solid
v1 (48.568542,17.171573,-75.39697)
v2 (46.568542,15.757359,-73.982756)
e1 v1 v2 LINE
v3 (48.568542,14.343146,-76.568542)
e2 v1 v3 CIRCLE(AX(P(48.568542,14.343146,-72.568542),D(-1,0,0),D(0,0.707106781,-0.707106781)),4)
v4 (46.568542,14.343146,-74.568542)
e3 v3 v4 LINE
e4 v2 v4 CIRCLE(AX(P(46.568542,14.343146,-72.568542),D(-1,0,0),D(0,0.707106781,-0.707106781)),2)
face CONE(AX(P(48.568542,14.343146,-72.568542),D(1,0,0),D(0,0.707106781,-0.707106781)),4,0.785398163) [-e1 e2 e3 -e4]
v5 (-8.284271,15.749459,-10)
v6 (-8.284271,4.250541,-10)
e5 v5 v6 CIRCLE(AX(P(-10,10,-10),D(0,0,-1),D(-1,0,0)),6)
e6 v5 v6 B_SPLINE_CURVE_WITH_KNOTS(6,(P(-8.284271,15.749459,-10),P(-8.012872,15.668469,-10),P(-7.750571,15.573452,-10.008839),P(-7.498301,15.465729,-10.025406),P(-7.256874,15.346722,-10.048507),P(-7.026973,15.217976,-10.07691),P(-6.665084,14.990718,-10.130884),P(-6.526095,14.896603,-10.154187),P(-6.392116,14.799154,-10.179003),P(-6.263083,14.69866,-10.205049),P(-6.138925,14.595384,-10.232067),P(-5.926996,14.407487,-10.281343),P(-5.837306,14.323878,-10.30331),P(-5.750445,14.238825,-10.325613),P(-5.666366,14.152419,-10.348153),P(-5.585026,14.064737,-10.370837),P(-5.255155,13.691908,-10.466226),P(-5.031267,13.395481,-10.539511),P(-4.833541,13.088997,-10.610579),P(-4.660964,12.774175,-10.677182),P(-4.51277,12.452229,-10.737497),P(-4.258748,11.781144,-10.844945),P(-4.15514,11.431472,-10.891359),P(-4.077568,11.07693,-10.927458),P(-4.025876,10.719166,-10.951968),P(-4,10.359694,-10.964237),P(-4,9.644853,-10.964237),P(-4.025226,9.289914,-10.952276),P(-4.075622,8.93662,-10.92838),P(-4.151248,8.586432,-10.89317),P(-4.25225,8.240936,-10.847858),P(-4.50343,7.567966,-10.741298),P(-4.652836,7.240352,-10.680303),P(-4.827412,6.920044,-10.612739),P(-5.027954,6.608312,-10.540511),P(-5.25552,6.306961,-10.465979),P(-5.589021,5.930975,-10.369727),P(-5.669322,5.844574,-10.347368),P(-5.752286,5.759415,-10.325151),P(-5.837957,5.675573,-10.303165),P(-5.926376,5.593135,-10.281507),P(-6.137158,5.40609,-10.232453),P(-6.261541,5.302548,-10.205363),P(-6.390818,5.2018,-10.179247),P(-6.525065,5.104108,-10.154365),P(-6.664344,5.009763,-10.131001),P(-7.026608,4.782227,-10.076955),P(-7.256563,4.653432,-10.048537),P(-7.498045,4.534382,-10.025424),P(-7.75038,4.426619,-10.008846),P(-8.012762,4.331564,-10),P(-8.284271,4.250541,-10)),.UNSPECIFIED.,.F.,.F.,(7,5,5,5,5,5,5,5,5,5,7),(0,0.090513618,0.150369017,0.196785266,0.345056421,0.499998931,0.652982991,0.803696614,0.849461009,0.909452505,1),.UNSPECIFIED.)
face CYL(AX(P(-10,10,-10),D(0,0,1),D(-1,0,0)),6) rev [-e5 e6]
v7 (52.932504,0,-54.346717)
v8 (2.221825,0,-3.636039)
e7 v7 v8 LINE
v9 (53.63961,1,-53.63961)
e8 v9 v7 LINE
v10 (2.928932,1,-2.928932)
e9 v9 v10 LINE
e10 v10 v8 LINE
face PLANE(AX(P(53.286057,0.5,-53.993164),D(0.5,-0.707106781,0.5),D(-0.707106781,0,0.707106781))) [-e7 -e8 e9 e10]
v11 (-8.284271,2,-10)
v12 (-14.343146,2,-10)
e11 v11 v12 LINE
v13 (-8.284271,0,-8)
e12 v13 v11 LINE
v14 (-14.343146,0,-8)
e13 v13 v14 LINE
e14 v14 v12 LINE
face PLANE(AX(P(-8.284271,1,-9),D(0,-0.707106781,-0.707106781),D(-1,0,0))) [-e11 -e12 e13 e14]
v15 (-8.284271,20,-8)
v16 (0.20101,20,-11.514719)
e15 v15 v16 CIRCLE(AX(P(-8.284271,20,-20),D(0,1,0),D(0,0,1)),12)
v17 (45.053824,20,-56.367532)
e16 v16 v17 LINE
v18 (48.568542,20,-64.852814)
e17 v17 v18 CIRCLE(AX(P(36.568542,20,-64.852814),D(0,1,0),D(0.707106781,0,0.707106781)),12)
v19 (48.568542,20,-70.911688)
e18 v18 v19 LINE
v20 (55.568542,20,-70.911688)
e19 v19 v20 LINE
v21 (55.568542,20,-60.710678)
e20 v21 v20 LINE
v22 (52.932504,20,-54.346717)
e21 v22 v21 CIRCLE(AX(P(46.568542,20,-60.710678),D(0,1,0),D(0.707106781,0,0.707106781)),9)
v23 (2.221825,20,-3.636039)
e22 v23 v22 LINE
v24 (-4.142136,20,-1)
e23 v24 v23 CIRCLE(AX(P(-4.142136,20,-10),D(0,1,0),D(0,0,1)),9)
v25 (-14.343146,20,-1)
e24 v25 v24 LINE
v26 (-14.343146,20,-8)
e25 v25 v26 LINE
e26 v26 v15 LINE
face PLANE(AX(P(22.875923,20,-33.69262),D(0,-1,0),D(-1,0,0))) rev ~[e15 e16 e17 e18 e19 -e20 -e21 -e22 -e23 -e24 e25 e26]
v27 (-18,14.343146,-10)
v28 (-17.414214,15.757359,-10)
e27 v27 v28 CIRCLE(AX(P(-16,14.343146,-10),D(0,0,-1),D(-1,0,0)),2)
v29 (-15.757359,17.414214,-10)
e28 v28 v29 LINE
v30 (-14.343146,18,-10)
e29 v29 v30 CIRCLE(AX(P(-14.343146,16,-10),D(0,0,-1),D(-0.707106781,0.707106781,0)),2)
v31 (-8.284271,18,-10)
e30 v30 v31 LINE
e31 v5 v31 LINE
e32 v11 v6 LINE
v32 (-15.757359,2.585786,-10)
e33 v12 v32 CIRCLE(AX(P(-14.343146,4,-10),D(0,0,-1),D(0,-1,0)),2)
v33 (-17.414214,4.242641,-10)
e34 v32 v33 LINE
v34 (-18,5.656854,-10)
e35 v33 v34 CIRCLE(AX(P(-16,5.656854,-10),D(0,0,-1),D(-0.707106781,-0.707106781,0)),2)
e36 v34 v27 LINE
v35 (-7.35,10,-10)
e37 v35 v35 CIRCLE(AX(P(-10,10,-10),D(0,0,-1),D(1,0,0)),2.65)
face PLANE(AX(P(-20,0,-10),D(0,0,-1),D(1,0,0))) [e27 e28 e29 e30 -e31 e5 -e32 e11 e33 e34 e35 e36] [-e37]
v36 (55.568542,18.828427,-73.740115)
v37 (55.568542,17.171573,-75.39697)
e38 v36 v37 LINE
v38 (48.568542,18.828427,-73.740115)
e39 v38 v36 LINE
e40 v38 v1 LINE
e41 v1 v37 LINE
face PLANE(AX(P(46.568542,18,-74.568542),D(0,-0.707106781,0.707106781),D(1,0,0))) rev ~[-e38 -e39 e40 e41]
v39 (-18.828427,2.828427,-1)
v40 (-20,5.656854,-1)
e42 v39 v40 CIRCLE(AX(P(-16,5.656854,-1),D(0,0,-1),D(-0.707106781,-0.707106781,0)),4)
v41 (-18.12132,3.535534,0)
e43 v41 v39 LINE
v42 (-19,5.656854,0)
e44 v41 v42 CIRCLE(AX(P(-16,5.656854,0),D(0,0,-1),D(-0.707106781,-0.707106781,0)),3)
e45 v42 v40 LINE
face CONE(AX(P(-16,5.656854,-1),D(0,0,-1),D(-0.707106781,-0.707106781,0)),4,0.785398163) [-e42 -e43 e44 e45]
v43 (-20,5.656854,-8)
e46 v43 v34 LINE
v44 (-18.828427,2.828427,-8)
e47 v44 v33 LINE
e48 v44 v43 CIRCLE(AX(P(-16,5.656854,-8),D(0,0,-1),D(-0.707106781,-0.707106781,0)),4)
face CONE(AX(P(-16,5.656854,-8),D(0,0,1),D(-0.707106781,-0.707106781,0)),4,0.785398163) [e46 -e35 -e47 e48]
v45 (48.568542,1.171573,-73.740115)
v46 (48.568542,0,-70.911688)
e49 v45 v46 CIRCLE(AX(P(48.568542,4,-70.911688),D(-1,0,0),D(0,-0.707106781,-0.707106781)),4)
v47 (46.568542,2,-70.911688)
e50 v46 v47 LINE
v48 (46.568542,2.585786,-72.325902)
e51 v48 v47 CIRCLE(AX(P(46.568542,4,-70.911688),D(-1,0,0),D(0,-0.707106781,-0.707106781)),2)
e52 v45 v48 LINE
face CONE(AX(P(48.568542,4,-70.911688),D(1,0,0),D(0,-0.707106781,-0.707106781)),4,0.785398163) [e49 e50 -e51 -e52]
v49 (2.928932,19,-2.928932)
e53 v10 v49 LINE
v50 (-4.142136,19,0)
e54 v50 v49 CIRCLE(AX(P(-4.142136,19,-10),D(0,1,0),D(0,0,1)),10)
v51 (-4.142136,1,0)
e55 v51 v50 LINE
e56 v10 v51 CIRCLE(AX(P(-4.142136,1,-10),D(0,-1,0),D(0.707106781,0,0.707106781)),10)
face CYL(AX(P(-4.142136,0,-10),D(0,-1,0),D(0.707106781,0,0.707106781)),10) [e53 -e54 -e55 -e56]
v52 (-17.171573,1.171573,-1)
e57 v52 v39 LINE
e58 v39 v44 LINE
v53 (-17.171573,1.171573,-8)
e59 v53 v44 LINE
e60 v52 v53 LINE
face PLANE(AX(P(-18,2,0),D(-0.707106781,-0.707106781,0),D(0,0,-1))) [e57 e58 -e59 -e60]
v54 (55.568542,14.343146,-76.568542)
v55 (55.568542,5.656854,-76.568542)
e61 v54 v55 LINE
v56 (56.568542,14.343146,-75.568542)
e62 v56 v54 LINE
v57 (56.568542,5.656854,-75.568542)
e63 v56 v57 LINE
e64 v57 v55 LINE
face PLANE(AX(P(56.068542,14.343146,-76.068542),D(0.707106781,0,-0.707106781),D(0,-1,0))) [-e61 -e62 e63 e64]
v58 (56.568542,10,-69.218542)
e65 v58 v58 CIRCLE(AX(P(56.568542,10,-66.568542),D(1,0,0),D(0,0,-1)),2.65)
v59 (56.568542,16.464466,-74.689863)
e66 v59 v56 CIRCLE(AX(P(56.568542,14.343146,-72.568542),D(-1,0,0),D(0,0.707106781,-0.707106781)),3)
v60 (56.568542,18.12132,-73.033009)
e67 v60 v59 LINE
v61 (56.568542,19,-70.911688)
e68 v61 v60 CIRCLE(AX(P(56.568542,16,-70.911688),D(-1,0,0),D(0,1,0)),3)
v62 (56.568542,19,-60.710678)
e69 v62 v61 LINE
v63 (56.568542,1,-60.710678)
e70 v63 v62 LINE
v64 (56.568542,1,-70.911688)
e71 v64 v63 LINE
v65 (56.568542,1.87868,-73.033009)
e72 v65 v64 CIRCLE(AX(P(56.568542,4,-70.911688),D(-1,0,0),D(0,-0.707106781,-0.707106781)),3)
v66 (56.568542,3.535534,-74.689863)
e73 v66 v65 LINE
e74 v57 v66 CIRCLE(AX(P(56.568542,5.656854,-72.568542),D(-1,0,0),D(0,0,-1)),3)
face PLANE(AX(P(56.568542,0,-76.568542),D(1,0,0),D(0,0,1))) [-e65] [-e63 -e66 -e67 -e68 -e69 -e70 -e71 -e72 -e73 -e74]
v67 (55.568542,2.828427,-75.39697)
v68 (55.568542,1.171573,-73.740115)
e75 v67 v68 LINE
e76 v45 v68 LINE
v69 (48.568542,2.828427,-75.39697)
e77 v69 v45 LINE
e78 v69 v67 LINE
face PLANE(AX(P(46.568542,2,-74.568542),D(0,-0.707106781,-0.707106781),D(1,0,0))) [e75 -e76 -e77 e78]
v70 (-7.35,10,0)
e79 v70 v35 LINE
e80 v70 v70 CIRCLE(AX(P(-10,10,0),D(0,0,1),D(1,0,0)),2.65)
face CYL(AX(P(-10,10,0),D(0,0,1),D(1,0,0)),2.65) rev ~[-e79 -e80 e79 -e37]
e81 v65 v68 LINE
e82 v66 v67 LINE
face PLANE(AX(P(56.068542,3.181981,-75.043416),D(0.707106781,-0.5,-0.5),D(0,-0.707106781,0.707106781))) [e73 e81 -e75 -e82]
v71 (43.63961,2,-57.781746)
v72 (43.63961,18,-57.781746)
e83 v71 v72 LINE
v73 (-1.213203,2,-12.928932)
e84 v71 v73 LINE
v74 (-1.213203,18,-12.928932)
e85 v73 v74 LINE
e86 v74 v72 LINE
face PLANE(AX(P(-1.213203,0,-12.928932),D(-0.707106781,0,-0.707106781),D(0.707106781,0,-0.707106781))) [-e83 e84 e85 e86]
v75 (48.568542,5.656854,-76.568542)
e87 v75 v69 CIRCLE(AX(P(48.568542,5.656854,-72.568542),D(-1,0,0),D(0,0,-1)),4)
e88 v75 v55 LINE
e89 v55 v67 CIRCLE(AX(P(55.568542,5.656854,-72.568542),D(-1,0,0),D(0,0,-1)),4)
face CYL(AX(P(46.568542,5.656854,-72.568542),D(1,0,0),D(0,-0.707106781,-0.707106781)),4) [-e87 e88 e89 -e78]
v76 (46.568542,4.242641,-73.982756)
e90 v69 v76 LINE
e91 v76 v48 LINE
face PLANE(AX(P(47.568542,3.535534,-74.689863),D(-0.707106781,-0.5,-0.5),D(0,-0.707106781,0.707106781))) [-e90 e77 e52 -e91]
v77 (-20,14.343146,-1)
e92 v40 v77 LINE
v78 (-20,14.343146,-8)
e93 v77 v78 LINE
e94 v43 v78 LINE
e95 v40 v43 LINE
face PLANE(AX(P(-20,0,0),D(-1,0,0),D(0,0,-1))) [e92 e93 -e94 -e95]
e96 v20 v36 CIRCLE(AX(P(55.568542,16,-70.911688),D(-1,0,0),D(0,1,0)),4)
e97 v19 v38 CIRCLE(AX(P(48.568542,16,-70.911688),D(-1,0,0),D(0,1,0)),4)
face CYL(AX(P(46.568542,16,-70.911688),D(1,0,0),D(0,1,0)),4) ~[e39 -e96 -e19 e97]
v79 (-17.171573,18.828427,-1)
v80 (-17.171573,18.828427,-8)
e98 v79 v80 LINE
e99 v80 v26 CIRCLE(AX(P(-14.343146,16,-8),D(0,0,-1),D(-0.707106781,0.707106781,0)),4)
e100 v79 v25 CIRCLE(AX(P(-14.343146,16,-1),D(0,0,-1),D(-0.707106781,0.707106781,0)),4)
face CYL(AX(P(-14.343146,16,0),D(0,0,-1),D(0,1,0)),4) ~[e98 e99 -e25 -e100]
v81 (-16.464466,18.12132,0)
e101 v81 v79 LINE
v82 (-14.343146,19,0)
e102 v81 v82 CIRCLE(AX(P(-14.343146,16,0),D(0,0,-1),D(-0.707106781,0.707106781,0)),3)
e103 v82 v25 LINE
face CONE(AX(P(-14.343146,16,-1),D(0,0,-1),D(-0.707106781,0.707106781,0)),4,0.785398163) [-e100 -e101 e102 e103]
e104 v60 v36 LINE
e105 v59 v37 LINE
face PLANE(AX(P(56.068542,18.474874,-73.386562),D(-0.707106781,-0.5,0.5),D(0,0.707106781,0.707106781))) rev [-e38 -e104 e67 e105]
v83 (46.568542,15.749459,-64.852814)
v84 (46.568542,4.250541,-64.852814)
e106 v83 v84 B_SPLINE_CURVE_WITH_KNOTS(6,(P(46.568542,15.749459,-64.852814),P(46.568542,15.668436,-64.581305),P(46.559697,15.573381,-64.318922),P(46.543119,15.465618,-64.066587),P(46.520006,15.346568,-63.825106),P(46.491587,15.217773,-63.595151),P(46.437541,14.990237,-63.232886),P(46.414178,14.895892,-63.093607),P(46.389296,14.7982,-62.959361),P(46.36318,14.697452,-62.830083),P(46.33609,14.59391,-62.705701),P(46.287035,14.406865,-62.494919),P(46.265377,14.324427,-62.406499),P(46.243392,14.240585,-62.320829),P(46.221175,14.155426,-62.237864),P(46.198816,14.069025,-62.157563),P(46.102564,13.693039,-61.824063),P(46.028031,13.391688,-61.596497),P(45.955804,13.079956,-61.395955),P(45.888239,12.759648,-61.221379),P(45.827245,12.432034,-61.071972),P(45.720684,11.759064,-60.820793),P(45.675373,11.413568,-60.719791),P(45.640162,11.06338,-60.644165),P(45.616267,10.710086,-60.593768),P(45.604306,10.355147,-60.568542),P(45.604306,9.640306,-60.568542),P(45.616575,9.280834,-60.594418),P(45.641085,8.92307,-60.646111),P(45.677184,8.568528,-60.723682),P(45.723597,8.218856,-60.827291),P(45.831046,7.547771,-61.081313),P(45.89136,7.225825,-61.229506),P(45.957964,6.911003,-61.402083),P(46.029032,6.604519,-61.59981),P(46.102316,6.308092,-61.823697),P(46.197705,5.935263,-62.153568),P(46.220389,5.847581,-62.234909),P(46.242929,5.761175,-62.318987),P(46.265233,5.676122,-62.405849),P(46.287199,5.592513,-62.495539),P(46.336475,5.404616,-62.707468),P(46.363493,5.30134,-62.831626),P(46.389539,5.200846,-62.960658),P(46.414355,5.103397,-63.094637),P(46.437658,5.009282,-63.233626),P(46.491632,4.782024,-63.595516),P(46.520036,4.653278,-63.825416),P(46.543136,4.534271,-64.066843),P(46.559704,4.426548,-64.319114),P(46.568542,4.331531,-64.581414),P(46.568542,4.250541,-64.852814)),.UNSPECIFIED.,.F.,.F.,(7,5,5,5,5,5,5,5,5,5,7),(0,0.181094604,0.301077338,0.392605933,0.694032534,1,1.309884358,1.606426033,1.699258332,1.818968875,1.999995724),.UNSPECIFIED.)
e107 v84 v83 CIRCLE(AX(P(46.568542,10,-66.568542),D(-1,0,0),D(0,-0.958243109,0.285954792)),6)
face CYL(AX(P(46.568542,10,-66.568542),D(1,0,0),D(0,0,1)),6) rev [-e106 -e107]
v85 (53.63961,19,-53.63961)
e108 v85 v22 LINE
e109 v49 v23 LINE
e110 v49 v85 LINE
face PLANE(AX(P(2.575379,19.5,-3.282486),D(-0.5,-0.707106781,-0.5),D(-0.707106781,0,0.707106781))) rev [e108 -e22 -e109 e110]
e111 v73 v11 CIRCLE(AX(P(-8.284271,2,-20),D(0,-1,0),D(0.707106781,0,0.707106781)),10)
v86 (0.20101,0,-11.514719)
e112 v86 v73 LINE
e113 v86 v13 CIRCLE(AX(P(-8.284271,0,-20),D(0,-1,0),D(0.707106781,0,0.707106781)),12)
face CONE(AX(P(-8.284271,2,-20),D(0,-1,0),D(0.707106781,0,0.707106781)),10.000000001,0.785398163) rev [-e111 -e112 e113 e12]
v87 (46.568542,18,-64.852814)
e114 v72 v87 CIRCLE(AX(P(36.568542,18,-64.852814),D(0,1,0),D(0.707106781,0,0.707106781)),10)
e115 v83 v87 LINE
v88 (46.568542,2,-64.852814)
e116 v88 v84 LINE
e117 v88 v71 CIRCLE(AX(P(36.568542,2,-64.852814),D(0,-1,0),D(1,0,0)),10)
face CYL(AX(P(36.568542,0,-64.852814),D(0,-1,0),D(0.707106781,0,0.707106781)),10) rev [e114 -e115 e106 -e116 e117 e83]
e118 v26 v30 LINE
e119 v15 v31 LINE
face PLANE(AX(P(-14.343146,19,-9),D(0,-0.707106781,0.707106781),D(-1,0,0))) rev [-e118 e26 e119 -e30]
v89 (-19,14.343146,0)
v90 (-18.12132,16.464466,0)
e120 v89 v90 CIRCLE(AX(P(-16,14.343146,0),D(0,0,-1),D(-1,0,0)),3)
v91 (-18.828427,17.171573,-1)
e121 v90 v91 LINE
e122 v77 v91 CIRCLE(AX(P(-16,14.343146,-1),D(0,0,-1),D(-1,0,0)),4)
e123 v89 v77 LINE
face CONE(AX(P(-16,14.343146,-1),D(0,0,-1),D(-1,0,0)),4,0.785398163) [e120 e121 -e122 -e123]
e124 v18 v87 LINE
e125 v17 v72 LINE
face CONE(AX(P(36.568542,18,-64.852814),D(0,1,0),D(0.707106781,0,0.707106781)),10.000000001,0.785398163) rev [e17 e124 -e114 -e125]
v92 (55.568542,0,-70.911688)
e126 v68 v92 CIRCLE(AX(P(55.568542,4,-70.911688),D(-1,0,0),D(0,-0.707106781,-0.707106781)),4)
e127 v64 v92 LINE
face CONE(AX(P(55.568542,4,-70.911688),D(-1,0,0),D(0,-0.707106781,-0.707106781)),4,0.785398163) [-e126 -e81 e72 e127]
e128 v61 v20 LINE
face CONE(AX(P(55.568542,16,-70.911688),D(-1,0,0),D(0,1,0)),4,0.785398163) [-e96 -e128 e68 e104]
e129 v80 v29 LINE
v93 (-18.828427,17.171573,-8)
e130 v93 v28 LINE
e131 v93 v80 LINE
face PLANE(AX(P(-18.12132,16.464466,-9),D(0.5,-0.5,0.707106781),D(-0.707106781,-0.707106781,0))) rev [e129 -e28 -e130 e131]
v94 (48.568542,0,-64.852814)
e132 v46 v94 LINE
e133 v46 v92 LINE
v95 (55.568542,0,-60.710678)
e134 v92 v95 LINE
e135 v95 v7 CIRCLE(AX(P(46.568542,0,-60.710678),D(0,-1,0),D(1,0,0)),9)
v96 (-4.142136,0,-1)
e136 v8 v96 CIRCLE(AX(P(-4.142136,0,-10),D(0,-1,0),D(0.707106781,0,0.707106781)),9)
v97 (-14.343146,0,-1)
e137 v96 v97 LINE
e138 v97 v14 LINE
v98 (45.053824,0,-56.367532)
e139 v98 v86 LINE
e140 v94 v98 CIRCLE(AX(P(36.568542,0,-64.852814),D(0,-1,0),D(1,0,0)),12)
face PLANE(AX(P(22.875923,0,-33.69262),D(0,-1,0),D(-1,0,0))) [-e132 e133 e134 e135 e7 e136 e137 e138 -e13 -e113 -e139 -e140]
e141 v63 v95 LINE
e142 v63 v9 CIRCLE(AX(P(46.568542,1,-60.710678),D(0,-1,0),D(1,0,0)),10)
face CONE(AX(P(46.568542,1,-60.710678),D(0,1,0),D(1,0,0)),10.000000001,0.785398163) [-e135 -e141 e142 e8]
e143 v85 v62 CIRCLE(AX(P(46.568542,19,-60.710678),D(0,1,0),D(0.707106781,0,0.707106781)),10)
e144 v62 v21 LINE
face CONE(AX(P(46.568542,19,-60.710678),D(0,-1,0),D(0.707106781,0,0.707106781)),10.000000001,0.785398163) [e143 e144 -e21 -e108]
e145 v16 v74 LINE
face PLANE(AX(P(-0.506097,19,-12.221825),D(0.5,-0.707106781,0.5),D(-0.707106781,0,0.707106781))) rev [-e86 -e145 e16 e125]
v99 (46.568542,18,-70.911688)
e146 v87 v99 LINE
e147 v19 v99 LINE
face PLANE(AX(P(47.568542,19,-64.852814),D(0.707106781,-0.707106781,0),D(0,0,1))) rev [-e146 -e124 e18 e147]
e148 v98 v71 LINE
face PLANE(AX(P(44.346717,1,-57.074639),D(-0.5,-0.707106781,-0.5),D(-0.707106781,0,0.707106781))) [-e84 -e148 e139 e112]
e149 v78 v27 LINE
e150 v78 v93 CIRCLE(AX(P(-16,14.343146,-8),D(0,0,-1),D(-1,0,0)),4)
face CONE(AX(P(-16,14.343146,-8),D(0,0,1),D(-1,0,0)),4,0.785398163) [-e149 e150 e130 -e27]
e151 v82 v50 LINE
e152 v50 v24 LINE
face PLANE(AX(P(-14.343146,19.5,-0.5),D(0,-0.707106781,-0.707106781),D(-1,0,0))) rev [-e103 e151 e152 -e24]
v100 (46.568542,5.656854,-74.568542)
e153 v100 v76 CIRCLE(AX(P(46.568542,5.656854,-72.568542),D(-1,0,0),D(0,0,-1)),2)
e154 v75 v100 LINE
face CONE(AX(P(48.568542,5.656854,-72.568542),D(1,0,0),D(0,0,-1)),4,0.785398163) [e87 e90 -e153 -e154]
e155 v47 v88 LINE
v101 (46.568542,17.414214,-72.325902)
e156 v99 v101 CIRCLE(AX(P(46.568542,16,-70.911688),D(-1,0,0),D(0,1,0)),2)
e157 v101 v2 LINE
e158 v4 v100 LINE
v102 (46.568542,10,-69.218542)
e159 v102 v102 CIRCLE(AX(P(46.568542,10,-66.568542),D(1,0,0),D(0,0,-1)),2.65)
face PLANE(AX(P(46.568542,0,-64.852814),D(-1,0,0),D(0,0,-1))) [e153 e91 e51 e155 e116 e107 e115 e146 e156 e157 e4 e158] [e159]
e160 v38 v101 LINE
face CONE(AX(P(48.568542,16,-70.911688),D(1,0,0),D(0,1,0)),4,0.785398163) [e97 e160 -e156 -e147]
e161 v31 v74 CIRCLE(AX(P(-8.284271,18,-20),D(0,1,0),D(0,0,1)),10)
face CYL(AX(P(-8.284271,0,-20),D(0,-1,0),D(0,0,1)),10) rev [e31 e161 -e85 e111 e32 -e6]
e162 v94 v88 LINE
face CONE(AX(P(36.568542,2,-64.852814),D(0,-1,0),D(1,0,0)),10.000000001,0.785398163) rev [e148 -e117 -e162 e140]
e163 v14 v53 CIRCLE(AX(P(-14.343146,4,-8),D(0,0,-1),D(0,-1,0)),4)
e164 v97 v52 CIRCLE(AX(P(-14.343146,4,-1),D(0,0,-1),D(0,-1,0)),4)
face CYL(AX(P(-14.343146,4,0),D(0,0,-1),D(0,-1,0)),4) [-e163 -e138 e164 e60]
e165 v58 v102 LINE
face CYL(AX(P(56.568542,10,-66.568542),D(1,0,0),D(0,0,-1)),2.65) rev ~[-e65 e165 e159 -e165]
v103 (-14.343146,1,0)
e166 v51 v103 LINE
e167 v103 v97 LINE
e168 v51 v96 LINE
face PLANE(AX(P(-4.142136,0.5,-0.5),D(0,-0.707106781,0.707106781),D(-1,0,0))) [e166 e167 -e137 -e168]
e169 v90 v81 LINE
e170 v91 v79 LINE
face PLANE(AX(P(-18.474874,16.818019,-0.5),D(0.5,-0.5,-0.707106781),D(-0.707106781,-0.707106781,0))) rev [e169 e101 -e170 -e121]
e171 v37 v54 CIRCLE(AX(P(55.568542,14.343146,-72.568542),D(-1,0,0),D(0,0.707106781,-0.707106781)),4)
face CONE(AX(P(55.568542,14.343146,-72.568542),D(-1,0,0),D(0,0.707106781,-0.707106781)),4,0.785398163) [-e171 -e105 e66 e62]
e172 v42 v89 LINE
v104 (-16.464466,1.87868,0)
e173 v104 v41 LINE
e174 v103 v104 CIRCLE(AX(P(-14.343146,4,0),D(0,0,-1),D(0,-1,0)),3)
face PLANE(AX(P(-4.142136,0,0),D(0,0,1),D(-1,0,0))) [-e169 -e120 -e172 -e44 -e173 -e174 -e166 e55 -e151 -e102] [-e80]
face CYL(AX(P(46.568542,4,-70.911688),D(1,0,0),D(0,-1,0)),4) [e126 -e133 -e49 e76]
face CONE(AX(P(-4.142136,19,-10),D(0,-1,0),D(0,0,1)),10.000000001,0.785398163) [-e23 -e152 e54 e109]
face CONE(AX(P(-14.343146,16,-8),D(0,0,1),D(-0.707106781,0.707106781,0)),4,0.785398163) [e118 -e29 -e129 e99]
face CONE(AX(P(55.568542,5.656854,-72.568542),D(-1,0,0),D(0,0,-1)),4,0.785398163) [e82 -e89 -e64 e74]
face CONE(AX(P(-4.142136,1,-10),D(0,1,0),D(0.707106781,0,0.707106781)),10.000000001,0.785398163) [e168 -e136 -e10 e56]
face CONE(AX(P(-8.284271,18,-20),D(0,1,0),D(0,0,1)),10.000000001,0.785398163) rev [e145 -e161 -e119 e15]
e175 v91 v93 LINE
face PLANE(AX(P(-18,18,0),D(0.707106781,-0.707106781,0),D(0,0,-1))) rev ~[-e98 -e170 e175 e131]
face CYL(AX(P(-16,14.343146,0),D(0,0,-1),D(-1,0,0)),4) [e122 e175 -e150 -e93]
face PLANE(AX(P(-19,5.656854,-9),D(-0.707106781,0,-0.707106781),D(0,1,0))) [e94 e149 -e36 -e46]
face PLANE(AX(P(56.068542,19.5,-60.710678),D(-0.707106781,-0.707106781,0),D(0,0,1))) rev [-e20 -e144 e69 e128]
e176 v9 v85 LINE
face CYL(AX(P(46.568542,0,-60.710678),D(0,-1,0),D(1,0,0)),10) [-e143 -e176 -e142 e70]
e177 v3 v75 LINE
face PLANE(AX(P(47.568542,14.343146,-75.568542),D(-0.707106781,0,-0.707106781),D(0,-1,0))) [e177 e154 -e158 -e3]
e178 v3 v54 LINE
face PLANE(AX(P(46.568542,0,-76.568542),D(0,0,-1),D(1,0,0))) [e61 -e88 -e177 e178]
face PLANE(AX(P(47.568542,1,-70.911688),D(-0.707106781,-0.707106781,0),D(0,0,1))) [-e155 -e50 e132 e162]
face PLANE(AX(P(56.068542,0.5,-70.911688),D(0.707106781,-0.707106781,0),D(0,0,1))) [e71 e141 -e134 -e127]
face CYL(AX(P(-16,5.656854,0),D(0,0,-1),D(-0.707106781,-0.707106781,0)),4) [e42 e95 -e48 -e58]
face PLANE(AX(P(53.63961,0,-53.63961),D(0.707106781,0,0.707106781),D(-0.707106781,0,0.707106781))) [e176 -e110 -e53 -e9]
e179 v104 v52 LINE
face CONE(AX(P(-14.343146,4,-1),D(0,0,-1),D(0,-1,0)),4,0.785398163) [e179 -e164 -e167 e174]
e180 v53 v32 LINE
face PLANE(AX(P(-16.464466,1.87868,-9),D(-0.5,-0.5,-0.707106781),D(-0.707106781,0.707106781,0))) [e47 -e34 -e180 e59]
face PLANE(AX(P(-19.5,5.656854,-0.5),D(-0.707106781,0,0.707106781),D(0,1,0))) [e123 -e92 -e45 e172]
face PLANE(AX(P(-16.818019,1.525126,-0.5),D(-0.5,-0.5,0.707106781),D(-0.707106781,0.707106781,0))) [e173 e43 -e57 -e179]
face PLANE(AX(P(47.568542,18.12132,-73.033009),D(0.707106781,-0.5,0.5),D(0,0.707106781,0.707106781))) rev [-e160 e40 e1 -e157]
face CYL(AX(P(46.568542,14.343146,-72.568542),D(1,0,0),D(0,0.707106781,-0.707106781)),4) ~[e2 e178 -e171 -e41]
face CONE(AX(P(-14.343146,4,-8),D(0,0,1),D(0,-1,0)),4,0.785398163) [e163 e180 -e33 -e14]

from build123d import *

# Parameters (mm, degrees)
BOSS_EXTRUDE1_DEPTH = 20
SKETCH2_R           = 2.65
CUT_EXTRUDE1_DEPTH  = 20
SKETCH3_R           = 2.65
CUT_EXTRUDE2_DEPTH  = 20
SKETCH7_R           = 6
CUT_EXTRUDE4_DEPTH  = 5
SKETCH8_R           = 6
CUT_EXTRUDE5_DEPTH  = 5
CHAMFER3_SIZE       = 4
FILLET2_R           = 4
CHAMFER4_SIZE       = 2
CHAMFER5_SIZE       = 1


with BuildPart() as part:
    # Sketch1 → Boss-Extrude1 (new body)
    with BuildSketch(Plane(origin=(0, 0, 0), x_dir=(1, 0, 0), z_dir=(0, 1, 0))):
        with BuildLine():
            Line((-4.142135624, 0), (-20, 0))
            Line((-20, 0), (-20, 10))
            Line((-20, 10), (-8.284271247, 10))
            ThreePointArc((-8.284271247, 10), (-4.457436924, 10.761204675), (-1.213203436, 12.928932188))
            Line((-1.213203436, 12.928932188), (43.639610307, 57.781745931))
            ThreePointArc((43.639610307, 57.781745931), (45.80733782, 61.025979419), (46.568542495, 64.852813742))
            Line((46.568542495, 64.852813742), (46.568542495, 76.568542495))
            Line((46.568542495, 76.568542495), (56.568542495, 76.568542495))
            Line((56.568542495, 76.568542495), (56.568542495, 60.710678119))
            ThreePointArc((56.568542495, 60.710678119), (55.80733782, 56.883843795), (53.639610307, 53.639610307))
            Line((53.639610307, 53.639610307), (2.928932188, 2.928932188))
            ThreePointArc((2.928932188, 2.928932188), (-0.3153013, 0.761204675), (-4.142135624, 0))
        make_face()
    extrude(amount=BOSS_EXTRUDE1_DEPTH)

    # Sketch2 → Cut-Extrude1 (cut)
    with BuildSketch(Plane.XY):
        with Locations((-10, 10)):
            Circle(SKETCH2_R)
    extrude(amount=-CUT_EXTRUDE1_DEPTH, mode=Mode.SUBTRACT)

    # Sketch3 → Cut-Extrude2 (cut)
    with BuildSketch(Plane(origin=(56.568542495, 0, 0), x_dir=(0, 0, -1), z_dir=(1, 0, 0))):
        with Locations((66.568542495, 10)):
            Circle(SKETCH3_R)
    extrude(amount=-CUT_EXTRUDE2_DEPTH, mode=Mode.SUBTRACT)

    # Sketch7 → Cut-Extrude4 (cut)
    with BuildSketch(Plane.ZY.offset(-46.568542495)):
        with Locations((-66.568542495, 10)):
            Circle(SKETCH7_R)
    extrude(amount=CUT_EXTRUDE4_DEPTH, mode=Mode.SUBTRACT)

    # Sketch8 → Cut-Extrude5 (cut)
    with BuildSketch(Plane(origin=(0, 0, -10), x_dir=(-1, 0, 0), z_dir=(0, 0, -1))):
        with Locations((10, 10)):
            Circle(SKETCH8_R)
    extrude(amount=CUT_EXTRUDE5_DEPTH, mode=Mode.SUBTRACT)

    # Chamfer3
    chamfer3_edges = [part.edges().sort_by_distance(p)[0] for p in [
        (51.568542495, 0, -76.568542495),
        (-20, 0, -5),
        (51.568542495, 20, -76.568542495),
        (-20, 20, -5),
    ]]
    chamfer(chamfer3_edges, length=CHAMFER3_SIZE)

    # Fillet2
    fillet2_edges = [part.edges().sort_by_distance(p)[0] for p in [
        (-16, 20, -5),
        (51.568542495, 20, -72.568542495),
        (51.568542495, 4, -76.568542495),
        (51.568542495, 16, -76.568542495),
        (-16, 0, -5),
        (51.568542495, 0, -72.568542495),
        (-20, 16, -5),
        (-20, 4, -5),
    ]]
    fillet(fillet2_edges, radius=FILLET2_R)

    # Chamfer4
    chamfer4_edges = [part.edges().sort_by_distance(p)[0] for p in [
        (46.568542495, 20, -67.882250994),
        (46.568542495, 18, -74.568542495),
        (46.568542495, 2, -74.568542495),
        (46.568542495, 0, -67.882250994),
        (46.568542495, 15.87387948, -76.264060625),
        (46.568542495, 19.69551813, -72.442421975),
        (46.568542495, 0.30448187, -72.442421975),
        (46.568542495, 4.12612052, -76.264060625),
        (-18, 18, -10),
        (-11.313708499, 0, -10),
        (-18, 2, -10),
        (-20, 10, -10),
        (-19.69551813, 4.12612052, -10),
        (-15.87387948, 0.30448187, -10),
        (-19.69551813, 15.87387948, -10),
        (-15.87387948, 19.69551813, -10),
        (-4.457436924, 0, -10.761204675),
        (21.213203436, 0, -35.355339059),
        (45.80733782, 0, -61.025979419),
        (45.80733782, 20, -61.025979419),
        (21.213203436, 20, -35.355339059),
        (-4.457436924, 20, -10.761204675),
        (-11.313708499, 20, -10),
        (46.568542495, 10, -76.568542495),
    ]]
    chamfer(chamfer4_edges, length=CHAMFER4_SIZE)

    # Chamfer5
    chamfer5_edges = [part.edges().sort_by_distance(p)[0] for p in [
        (56.568542495, 2, -74.568542495),
        (56.568542495, 18, -74.568542495),
        (56.568542495, 15.87387948, -76.264060625),
        (56.568542495, 19.69551813, -72.442421975),
        (56.568542495, 0.30448187, -72.442421975),
        (56.568542495, 4.12612052, -76.264060625),
        (-9.242640687, 0, 0),
        (-9.242640687, 20, 0),
        (-20, 10, 0),
        (-18, 2, 0),
        (-18, 18, 0),
        (-19.69551813, 4.12612052, 0),
        (-15.87387948, 0.30448187, 0),
        (-19.69551813, 15.87387948, 0),
        (-15.87387948, 19.69551813, 0),
        (-0.3153013, 20, -0.761204675),
        (56.568542495, 0, -65.811183182),
        (55.80733782, 0, -56.883843795),
        (28.284271247, 0, -28.284271247),
        (-0.3153013, 0, -0.761204675),
        (28.284271247, 20, -28.284271247),
        (55.80733782, 20, -56.883843795),
        (56.568542495, 20, -65.811183182),
        (56.568542495, 10, -76.568542495),
    ]]
    chamfer(chamfer5_edges, length=CHAMFER5_SIZE)


solid = part.part
